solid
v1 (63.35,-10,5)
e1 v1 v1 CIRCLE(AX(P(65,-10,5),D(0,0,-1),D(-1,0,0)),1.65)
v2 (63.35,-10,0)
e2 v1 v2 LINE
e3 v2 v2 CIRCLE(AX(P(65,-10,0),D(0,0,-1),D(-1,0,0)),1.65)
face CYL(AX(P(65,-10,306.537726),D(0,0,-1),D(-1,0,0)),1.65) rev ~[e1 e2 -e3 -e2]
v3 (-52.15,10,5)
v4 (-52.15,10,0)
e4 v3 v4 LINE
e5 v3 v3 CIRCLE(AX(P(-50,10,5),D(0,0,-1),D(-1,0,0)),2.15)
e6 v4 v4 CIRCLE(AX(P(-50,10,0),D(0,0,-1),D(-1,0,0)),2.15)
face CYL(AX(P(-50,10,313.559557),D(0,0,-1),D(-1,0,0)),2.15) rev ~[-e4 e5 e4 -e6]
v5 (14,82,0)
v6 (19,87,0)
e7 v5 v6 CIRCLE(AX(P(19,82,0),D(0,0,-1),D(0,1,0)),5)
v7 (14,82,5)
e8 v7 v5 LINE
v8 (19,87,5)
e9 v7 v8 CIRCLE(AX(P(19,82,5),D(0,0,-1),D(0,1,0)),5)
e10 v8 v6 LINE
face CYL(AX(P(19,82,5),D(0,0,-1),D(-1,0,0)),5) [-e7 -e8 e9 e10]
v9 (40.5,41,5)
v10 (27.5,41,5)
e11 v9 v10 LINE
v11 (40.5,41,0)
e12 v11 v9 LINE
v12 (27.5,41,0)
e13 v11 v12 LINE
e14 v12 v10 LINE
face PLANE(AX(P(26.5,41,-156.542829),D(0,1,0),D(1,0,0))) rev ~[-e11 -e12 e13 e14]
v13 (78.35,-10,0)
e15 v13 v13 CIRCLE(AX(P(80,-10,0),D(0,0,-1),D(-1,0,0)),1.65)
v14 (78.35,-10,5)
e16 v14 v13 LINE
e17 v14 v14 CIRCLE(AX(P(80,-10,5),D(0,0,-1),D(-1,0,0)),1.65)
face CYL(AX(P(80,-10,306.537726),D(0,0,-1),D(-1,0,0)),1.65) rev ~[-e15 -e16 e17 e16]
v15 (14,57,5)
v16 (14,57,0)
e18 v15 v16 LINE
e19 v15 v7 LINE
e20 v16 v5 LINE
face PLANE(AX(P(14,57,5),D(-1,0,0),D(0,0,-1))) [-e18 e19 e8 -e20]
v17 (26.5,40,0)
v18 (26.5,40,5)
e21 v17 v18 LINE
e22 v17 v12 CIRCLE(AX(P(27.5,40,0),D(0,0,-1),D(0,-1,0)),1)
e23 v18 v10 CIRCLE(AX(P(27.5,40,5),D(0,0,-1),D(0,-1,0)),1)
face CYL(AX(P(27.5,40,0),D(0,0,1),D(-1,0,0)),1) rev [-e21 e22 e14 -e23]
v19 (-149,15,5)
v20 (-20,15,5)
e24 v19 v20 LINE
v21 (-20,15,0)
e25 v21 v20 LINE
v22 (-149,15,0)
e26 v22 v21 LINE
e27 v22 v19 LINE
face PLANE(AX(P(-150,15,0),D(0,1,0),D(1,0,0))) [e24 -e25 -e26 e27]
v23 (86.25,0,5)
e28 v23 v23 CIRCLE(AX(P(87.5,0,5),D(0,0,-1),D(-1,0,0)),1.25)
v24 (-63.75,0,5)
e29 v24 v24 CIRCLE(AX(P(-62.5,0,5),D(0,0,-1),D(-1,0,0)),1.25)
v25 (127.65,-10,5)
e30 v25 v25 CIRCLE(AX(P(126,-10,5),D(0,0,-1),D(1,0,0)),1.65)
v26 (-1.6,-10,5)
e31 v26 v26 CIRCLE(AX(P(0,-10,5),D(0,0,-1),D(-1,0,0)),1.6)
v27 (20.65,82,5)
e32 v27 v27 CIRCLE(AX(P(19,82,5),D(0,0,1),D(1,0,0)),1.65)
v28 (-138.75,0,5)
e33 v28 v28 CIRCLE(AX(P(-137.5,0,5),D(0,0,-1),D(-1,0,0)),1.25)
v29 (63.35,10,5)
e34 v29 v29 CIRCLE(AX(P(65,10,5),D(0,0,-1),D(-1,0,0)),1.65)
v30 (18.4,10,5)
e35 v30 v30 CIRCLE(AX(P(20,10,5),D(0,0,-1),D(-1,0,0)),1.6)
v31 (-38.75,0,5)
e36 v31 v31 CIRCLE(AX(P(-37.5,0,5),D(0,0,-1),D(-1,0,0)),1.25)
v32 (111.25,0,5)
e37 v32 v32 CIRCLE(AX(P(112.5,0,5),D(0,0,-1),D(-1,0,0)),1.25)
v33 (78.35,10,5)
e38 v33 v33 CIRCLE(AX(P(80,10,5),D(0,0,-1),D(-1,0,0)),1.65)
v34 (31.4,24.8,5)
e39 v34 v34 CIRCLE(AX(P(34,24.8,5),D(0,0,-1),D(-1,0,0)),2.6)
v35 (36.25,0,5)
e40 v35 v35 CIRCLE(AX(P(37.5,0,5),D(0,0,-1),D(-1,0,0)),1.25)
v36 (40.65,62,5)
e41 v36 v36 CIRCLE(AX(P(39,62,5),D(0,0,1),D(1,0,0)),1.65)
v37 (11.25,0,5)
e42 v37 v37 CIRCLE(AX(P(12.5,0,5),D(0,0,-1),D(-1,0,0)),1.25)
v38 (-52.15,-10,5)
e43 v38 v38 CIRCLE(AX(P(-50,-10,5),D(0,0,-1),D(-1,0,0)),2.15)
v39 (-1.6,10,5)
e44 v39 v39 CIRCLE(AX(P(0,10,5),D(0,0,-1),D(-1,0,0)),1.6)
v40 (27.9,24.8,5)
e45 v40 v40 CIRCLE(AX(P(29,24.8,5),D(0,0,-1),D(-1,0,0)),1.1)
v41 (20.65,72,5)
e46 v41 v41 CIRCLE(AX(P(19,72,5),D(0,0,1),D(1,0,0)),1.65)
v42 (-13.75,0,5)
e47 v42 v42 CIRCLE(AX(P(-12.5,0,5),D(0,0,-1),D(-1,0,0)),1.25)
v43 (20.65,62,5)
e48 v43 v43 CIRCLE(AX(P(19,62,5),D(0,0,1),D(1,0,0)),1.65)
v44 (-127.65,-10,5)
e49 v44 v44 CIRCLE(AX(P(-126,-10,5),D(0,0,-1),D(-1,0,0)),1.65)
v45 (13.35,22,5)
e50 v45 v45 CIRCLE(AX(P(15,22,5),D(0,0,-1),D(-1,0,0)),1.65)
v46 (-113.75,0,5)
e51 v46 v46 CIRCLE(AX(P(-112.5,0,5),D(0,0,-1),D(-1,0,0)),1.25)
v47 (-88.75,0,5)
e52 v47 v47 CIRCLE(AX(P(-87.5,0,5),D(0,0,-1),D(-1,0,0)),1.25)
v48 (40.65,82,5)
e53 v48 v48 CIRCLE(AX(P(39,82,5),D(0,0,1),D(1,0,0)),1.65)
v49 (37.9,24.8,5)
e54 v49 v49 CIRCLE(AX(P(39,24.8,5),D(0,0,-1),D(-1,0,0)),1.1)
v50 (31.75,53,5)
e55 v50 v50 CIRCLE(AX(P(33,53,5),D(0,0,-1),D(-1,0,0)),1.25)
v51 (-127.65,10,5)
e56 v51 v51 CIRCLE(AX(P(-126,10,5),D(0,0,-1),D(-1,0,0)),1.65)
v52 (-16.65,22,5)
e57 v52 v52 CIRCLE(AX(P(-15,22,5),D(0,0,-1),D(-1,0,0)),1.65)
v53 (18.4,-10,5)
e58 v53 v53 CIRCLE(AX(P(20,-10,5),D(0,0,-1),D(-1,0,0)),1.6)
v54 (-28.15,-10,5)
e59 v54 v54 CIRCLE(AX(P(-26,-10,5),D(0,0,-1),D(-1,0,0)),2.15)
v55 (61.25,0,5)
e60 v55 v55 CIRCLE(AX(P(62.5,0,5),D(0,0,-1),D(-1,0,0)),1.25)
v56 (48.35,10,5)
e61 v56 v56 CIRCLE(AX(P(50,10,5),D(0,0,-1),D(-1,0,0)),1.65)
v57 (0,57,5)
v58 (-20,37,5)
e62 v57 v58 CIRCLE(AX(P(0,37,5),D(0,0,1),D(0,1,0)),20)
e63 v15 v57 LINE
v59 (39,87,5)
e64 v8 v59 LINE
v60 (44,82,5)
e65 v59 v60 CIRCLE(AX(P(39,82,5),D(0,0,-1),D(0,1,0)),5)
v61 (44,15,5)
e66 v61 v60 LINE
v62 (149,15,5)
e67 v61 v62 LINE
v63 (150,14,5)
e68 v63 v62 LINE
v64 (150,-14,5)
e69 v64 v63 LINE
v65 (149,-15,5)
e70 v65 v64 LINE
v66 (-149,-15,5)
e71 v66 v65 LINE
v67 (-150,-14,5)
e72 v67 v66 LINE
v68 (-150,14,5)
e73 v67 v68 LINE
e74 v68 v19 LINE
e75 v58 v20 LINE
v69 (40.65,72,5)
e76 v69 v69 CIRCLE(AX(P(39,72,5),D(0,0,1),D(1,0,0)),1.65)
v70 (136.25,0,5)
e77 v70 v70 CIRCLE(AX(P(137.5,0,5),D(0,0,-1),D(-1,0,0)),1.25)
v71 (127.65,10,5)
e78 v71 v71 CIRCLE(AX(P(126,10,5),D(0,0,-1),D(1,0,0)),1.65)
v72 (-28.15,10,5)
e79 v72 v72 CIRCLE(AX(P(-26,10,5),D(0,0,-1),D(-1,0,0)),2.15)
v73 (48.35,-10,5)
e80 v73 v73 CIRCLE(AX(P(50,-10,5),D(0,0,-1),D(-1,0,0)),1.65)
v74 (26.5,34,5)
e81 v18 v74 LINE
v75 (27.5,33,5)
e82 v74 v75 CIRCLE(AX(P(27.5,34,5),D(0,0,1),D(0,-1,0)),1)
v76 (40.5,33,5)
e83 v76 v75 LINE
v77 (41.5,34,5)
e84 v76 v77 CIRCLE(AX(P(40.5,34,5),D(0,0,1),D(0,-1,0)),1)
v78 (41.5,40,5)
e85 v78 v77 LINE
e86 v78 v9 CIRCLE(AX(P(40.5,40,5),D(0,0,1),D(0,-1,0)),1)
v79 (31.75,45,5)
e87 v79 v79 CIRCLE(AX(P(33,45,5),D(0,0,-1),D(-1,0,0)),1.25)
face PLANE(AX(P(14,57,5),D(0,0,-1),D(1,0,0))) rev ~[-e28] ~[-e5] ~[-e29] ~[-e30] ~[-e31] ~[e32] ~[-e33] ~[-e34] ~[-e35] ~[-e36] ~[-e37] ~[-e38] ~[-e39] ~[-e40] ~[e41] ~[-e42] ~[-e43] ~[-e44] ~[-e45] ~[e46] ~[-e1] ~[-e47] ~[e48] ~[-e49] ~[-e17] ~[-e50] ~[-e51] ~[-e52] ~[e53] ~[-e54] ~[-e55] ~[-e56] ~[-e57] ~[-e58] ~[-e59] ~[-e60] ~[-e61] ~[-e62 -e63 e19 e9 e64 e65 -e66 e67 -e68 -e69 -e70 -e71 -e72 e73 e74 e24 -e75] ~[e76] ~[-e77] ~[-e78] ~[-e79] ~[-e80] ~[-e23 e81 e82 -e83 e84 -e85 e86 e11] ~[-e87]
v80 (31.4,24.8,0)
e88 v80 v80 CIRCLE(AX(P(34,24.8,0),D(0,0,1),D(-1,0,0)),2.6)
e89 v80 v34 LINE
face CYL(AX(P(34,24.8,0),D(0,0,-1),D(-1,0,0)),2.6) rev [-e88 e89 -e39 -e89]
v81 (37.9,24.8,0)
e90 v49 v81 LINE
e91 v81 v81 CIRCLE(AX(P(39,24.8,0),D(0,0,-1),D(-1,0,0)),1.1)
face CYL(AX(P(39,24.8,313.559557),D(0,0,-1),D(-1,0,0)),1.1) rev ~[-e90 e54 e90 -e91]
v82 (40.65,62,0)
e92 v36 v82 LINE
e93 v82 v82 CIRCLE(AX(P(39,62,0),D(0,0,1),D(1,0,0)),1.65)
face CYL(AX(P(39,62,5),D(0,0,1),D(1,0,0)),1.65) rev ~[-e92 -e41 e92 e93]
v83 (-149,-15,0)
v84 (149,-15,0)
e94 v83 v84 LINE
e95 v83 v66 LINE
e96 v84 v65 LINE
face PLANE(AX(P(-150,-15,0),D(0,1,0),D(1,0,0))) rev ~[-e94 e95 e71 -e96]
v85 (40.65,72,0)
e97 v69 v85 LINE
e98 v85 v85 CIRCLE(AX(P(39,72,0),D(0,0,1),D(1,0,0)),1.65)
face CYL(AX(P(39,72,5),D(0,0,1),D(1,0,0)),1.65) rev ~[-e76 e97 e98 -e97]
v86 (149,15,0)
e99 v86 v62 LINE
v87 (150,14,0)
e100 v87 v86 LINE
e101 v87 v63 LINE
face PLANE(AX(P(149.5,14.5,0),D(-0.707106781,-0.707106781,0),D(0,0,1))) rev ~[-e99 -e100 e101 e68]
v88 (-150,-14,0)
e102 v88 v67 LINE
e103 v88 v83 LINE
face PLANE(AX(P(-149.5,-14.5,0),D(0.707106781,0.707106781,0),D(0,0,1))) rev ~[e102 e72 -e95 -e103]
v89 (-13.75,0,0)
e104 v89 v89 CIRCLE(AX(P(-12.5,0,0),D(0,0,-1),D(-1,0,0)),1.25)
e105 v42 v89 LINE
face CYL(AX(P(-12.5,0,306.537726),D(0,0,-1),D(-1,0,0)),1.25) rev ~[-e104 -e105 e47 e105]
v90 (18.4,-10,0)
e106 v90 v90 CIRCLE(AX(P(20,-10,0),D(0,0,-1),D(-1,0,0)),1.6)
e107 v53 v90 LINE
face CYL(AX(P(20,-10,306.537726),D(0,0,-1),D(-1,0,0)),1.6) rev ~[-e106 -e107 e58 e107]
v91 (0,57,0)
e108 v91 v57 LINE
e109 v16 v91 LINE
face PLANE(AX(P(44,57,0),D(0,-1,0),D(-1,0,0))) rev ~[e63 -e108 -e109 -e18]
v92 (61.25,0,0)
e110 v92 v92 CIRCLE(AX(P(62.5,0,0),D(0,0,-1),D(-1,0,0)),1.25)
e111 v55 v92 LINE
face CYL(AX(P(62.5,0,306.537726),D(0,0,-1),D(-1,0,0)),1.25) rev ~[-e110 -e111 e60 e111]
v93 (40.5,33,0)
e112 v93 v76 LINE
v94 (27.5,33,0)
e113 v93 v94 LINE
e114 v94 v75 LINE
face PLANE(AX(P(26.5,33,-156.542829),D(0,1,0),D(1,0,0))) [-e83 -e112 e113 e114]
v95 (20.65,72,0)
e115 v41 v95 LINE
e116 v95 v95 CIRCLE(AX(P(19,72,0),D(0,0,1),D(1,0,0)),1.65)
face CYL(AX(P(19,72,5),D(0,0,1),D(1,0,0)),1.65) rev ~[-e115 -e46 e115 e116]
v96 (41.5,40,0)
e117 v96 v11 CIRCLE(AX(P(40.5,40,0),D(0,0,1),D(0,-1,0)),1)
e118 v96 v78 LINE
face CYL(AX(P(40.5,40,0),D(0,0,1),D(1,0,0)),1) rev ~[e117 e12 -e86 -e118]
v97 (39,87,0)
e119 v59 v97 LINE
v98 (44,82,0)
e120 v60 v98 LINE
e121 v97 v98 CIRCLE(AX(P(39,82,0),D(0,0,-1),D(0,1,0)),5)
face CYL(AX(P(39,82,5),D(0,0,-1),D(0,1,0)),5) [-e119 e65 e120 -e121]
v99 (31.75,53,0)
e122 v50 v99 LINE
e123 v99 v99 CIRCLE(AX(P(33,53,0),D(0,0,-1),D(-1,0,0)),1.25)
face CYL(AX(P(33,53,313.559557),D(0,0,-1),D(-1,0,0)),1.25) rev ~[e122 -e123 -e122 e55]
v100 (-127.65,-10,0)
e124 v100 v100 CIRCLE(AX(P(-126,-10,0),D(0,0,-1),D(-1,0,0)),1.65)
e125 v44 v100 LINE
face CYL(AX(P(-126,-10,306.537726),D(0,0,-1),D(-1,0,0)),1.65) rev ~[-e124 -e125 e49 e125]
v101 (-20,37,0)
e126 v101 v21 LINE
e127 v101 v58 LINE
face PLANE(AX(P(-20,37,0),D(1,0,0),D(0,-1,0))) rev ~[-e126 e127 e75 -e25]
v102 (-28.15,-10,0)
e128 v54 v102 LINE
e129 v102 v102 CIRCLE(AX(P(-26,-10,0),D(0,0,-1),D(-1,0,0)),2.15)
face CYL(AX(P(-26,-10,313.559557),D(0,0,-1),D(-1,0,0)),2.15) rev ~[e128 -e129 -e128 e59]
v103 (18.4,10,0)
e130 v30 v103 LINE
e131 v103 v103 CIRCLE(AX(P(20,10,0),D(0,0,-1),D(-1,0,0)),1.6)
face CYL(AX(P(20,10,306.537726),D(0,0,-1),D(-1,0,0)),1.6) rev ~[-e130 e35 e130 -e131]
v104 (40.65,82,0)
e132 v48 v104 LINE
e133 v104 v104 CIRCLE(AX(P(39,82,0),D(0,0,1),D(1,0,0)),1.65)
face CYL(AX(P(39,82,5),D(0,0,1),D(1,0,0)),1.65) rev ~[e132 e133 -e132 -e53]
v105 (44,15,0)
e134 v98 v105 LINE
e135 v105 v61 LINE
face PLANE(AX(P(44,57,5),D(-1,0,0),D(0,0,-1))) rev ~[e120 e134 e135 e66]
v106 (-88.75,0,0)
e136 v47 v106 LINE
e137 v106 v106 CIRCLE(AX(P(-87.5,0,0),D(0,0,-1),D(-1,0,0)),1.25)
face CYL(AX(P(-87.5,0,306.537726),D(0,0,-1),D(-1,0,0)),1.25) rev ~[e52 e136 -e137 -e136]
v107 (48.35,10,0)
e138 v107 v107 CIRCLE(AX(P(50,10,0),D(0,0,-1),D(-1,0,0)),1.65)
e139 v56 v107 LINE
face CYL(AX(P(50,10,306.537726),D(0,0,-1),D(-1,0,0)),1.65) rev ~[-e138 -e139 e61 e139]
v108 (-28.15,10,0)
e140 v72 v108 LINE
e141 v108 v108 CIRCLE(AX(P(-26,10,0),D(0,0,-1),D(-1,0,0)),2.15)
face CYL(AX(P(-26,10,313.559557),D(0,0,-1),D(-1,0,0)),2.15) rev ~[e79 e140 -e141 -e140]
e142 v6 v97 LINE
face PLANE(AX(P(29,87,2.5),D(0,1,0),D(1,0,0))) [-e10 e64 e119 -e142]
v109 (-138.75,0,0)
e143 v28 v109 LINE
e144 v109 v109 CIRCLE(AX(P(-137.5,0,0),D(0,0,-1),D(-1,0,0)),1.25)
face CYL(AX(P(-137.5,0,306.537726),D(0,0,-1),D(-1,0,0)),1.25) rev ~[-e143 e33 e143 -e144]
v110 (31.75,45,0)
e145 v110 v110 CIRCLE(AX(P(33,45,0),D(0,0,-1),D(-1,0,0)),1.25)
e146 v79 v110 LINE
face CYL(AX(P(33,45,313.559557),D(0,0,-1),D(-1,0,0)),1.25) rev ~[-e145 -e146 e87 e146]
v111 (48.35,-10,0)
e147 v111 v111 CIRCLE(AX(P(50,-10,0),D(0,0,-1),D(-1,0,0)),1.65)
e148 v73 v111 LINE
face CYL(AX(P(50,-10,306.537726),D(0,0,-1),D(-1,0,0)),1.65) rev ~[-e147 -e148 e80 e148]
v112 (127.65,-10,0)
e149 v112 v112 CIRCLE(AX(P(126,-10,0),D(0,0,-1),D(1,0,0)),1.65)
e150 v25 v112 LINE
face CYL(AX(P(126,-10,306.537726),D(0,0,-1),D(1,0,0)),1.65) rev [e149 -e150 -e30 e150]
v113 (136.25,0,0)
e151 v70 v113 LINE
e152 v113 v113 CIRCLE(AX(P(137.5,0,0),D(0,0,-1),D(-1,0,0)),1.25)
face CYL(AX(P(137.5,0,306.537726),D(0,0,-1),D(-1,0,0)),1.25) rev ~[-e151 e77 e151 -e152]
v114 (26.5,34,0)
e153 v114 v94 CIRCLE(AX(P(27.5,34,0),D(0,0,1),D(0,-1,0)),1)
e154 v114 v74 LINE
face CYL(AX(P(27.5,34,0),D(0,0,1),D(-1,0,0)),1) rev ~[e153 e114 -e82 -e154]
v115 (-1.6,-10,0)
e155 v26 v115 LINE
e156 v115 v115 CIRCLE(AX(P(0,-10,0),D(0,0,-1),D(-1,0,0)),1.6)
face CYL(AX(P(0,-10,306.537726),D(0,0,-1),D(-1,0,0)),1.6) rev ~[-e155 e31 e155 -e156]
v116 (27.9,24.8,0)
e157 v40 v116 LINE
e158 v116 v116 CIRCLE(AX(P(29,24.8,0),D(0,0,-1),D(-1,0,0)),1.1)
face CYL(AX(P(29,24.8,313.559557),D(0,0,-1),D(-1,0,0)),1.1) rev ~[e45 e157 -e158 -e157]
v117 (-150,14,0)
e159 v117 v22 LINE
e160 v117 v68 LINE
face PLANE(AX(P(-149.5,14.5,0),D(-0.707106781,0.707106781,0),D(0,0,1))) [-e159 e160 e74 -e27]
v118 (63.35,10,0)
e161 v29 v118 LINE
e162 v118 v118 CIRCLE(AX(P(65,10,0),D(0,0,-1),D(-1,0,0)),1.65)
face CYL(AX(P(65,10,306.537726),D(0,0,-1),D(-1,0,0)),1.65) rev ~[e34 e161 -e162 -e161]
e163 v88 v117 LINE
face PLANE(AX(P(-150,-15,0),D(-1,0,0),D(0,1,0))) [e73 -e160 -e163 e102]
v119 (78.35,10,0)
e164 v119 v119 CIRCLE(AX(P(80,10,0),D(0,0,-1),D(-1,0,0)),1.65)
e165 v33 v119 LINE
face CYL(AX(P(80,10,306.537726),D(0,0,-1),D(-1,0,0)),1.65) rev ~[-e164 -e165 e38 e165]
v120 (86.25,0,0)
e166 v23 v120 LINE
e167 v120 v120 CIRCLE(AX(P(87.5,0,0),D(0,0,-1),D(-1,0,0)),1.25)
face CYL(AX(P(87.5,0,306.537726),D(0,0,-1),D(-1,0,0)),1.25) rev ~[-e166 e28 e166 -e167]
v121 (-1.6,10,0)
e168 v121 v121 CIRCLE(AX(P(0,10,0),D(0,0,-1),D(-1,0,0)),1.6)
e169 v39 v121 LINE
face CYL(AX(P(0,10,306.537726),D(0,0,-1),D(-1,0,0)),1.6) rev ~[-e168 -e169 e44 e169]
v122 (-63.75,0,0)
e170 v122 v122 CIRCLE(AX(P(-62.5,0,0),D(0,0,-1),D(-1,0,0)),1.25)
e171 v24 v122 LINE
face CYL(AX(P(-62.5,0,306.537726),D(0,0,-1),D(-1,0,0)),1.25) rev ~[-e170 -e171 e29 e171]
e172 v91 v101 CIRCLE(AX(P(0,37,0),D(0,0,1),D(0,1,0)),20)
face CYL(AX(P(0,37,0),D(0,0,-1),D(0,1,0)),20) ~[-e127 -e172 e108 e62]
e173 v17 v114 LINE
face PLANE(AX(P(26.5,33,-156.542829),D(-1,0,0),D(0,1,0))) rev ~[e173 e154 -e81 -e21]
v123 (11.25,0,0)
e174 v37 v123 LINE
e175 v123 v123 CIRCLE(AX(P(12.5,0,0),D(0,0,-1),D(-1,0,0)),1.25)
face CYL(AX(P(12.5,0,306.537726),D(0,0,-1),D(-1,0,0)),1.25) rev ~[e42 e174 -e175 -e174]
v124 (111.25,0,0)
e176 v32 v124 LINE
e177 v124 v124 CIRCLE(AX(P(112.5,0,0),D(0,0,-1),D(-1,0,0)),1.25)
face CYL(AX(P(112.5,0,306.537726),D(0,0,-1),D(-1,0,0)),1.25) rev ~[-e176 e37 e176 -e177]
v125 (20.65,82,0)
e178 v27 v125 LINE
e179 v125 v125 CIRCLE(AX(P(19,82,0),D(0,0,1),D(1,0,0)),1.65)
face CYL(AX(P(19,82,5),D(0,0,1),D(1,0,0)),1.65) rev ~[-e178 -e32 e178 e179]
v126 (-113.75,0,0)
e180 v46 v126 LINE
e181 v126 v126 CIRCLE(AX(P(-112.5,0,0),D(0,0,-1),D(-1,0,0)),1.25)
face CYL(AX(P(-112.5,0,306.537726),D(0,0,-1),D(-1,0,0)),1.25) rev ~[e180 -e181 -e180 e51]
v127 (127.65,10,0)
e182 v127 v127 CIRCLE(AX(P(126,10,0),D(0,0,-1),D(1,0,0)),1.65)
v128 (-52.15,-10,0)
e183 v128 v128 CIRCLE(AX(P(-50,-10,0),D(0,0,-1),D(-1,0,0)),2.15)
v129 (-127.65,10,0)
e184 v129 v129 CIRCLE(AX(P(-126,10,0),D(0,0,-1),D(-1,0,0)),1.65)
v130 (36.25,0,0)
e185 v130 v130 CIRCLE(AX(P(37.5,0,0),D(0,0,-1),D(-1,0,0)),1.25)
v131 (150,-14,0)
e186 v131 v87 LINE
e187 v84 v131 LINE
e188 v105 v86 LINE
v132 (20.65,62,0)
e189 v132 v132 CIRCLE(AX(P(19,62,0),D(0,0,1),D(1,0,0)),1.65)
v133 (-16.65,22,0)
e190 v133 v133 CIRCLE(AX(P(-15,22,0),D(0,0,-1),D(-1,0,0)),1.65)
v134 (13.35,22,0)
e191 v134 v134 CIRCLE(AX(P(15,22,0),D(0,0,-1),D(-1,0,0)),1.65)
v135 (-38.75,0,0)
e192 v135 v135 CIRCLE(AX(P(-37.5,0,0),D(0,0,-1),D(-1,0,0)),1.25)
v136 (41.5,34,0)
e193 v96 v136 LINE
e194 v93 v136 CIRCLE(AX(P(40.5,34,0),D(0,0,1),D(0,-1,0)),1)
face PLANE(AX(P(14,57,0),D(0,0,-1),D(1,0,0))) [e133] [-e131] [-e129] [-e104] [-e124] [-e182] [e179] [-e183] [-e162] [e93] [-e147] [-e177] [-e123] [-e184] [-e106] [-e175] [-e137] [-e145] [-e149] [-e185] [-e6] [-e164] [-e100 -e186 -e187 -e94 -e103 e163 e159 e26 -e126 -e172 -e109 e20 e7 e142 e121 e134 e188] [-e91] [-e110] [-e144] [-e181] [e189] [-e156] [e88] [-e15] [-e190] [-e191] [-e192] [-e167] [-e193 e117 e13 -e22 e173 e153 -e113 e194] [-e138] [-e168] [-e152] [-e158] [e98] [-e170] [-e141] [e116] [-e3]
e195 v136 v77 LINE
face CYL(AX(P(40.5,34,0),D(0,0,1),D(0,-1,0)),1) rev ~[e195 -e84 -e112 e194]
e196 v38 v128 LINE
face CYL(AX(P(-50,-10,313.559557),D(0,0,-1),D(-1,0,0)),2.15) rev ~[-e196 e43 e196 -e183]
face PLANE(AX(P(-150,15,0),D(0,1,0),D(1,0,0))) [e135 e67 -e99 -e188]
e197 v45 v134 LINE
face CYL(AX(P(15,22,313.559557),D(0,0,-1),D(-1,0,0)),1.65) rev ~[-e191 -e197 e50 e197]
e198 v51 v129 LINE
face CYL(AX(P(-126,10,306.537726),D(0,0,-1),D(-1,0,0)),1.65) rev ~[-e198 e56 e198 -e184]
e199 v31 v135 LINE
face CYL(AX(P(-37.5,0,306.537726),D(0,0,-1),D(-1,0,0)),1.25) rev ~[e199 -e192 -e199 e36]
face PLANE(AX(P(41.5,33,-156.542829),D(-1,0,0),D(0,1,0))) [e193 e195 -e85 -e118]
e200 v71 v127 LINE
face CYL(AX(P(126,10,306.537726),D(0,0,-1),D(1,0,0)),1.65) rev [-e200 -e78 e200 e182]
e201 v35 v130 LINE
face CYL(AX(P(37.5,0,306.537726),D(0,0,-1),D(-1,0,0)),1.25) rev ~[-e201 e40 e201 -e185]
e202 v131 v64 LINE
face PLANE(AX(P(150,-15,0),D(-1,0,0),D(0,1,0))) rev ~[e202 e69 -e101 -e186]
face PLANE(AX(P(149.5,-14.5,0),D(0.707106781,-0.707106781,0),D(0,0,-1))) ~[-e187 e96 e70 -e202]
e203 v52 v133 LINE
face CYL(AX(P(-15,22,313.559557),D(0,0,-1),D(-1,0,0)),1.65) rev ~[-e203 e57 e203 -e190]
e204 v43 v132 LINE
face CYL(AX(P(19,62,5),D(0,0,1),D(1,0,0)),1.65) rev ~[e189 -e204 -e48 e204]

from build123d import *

# Parameters (mm, degrees)
SKETCH_1_W                  = 300
SKETCH_1_H                  = 30
EXTRUDE_1_DEPTH             = 5
CHAMFER_1_SIZE              = 1
HOLE_WIZARD_M3_1_D          = 3.2
M3X0_5_1_D                  = 2.5
M4X0_7_1_D                  = 3.3
M4X0_7_2_D                  = 3.3
PATTERN_LINEAR_1_COUNT      = 6
PATTERN_LINEAR_1_PITCH      = 25
PATTERN_LINEAR_1_COL_COUNT  = 7
PATTERN_LINEAR_1_COL_PITCH  = 25
EXTRUDE_3_DEPTH             = 5
SKETCH_13_R                 = 2.6
CUT_EXTRUDE_2_DEPTH         = 161.542829177
HOLE_WIZARD_M2_1_D          = 2.2
M4X0_7_3_D                  = 3.3
HOLE_WIZARD_M4_1_D          = 4.3
M3X0_5_2_D                  = 2.5
CUT_EXTRUDE_3_DEPTH         = 161.542829177
CUT_EXTRUDE_3_DEPTH_BACK    = 161.542829177
SKETCH_25_W                 = 15
SKETCH_25_H                 = 8
FILLET_1_R                  = 1
SKETCH_26_W                 = 30
SKETCH_26_H                 = 5
EXTRUDE_4_DEPTH             = 30
SKETCH_27_R                 = 1.65
CUT_EXTRUDE_4_DEPTH         = 174.476223155
PATTERN_LINEAR_2_COUNT      = 2
PATTERN_LINEAR_2_PITCH      = 20
PATTERN_LINEAR_2_COUNT_DIR2 = 3
PATTERN_LINEAR_2_PITCH_DIR2 = 10
FILLET_2_R                  = 5


with BuildPart() as part:
    # 草圖1 → 填料-伸長1 (new body)
    with BuildSketch(Plane.XY):
        Rectangle(SKETCH_1_W, SKETCH_1_H)
    extrude(amount=EXTRUDE_1_DEPTH)

    # 導角1
    chamfer_1_edges = [part.edges().sort_by_distance(p)[0] for p in [
        (150, -15, 2.5),
        (-150, -15, 2.5),
        (-150, 15, 2.5),
        (150, 15, 2.5),
    ]]
    chamfer(chamfer_1_edges, length=CHAMFER_1_SIZE)

    # M3 餘隙孔1 (through all)
    with Locations(Plane.XY.offset(5)):
        with Locations((20, -10), (20, 10), (0, -10), (0, 10)):
            Hole(HOLE_WIZARD_M3_1_D / 2)

    # M3x0.5 螺紋孔1 (through all)
    with Locations(Plane.XY.offset(5)):
        with Locations((-12.5, 0)):
            m3x0_5_1 = Hole(M3X0_5_1_D / 2)

    # M4x0.7 螺紋孔1 (through all)
    with Locations(Plane.XY.offset(5)):
        with Locations((80, 10), (50, -10), (50, 10), (80, -10), (65, 10), (65, -10)):
            Hole(M4X0_7_1_D / 2)

    # M4x0.7 螺紋孔2 (through all)
    with Locations(Plane.XY.offset(5)):
        with Locations((-126, 10), (-126, -10)):
            m4x0_7_2 = Hole(M4X0_7_2_D / 2)

    # 直線複製排列1: M3x0.5 螺紋孔1 ×6
    with Locations(*[(-i * PATTERN_LINEAR_1_PITCH, 0, 0) for i in range(1, PATTERN_LINEAR_1_COUNT)]):
        add(m3x0_5_1, mode=Mode.SUBTRACT)

    # 直線複製排列1 col: M3x0.5 螺紋孔1 ×7
    with Locations(*[(i * PATTERN_LINEAR_1_COL_PITCH, 0, 0) for i in range(1, PATTERN_LINEAR_1_COL_COUNT)]):
        add(m3x0_5_1, mode=Mode.SUBTRACT)

    # 鏡射1: M4x0.7 螺紋孔2 across plane
    add(m4x0_7_2.mirror(Plane(origin=(0, 0, 0), x_dir=(0, 0, 1), z_dir=(1, 0, 0))), mode=Mode.SUBTRACT)

    # 草圖16 → 填料-伸長3 (add, through all)
    with BuildSketch(Plane.XY):
        with BuildLine():
            Line((-20, 15), (44, 15))
            Line((44, 15), (44, 57))
            Line((44, 57), (0, 57))
            ThreePointArc((0, 57), (-14.142135624, 51.142135624), (-20, 37))
            Line((-20, 37), (-20, 15))
        make_face()
    extrude(amount=EXTRUDE_3_DEPTH)

    # 草圖13 → 除料-伸長2 (cut, through all)
    with BuildSketch(Plane.XY):
        with Locations(Location((34, 24.8, 0), (0, 0, 180))):
            Circle(SKETCH_13_R)
    extrude(amount=CUT_EXTRUDE_2_DEPTH, mode=Mode.SUBTRACT)

    # M2 餘隙孔1 (through all)
    with Locations(Plane.XY.offset(5)):
        with Locations((29, 24.8), (39, 24.8)):
            Hole(HOLE_WIZARD_M2_1_D / 2)

    # M4x0.7 螺紋孔3 (through all)
    with Locations(Plane.XY.offset(5)):
        with Locations((15, 22), (-15, 22)):
            Hole(M4X0_7_3_D / 2)

    # M4 餘隙孔1 (through all)
    with Locations(Plane.XY.offset(5)):
        with Locations((-26, -10), (-26, 10), (-50, -10), (-50, 10)):
            Hole(HOLE_WIZARD_M4_1_D / 2)

    # M3x0.5 螺紋孔2 (through all)
    with Locations(Plane.XY.offset(5)):
        with Locations((33, 53), (33, 45)):
            Hole(M3X0_5_2_D / 2)

    # 草圖25 → 除料-伸長3 (cut, two sides: drawn at the far end of the back side and taken through both)
    with BuildSketch(Plane.XY.offset(5).offset(-CUT_EXTRUDE_3_DEPTH_BACK)):
        with Locations((34, 37)):
            Rectangle(SKETCH_25_W, SKETCH_25_H)
    extrude(amount=CUT_EXTRUDE_3_DEPTH + CUT_EXTRUDE_3_DEPTH_BACK, mode=Mode.SUBTRACT)

    # 圓角1
    fillet_1_edges = [part.edges().sort_by_distance(p)[0] for p in [
        (41.5, 41, 2.5),
        (41.5, 33, 2.5),
        (26.5, 33, 2.5),
        (26.5, 41, 2.5),
    ]]
    fillet(fillet_1_edges, radius=FILLET_1_R)

    # 草圖26 → 填料-伸長4 (add)
    with BuildSketch(Plane(origin=(0, 57, 0), x_dir=(1, 0, 0), z_dir=(0, 1, 0))):
        with Locations((29, -2.5)):
            Rectangle(SKETCH_26_W, SKETCH_26_H)
    extrude(amount=EXTRUDE_4_DEPTH)

    # 草圖27 → 除料-伸長4 (cut, through all)
    with BuildSketch(Plane.XY.offset(5)):
        with Locations((19, 82)):
            Circle(SKETCH_27_R)
    cut_extrude_4 = extrude(amount=-CUT_EXTRUDE_4_DEPTH, mode=Mode.SUBTRACT)

    # 直線複製排列2: Cut-Extrude 4 2 × 3
    with Locations(*[(i * PATTERN_LINEAR_2_PITCH, -j * PATTERN_LINEAR_2_PITCH_DIR2, 0) for i in range(PATTERN_LINEAR_2_COUNT) for j in range(PATTERN_LINEAR_2_COUNT_DIR2) if (i, j) != (0, 0)]):
        add(cut_extrude_4, mode=Mode.SUBTRACT)

    # 圓角2
    fillet_2_edges = [part.edges().sort_by_distance(p)[0] for p in [
        (44, 87, 2.5),
        (14, 87, 2.5),
    ]]
    fillet(fillet_2_edges, radius=FILLET_2_R)


solid = part.part
